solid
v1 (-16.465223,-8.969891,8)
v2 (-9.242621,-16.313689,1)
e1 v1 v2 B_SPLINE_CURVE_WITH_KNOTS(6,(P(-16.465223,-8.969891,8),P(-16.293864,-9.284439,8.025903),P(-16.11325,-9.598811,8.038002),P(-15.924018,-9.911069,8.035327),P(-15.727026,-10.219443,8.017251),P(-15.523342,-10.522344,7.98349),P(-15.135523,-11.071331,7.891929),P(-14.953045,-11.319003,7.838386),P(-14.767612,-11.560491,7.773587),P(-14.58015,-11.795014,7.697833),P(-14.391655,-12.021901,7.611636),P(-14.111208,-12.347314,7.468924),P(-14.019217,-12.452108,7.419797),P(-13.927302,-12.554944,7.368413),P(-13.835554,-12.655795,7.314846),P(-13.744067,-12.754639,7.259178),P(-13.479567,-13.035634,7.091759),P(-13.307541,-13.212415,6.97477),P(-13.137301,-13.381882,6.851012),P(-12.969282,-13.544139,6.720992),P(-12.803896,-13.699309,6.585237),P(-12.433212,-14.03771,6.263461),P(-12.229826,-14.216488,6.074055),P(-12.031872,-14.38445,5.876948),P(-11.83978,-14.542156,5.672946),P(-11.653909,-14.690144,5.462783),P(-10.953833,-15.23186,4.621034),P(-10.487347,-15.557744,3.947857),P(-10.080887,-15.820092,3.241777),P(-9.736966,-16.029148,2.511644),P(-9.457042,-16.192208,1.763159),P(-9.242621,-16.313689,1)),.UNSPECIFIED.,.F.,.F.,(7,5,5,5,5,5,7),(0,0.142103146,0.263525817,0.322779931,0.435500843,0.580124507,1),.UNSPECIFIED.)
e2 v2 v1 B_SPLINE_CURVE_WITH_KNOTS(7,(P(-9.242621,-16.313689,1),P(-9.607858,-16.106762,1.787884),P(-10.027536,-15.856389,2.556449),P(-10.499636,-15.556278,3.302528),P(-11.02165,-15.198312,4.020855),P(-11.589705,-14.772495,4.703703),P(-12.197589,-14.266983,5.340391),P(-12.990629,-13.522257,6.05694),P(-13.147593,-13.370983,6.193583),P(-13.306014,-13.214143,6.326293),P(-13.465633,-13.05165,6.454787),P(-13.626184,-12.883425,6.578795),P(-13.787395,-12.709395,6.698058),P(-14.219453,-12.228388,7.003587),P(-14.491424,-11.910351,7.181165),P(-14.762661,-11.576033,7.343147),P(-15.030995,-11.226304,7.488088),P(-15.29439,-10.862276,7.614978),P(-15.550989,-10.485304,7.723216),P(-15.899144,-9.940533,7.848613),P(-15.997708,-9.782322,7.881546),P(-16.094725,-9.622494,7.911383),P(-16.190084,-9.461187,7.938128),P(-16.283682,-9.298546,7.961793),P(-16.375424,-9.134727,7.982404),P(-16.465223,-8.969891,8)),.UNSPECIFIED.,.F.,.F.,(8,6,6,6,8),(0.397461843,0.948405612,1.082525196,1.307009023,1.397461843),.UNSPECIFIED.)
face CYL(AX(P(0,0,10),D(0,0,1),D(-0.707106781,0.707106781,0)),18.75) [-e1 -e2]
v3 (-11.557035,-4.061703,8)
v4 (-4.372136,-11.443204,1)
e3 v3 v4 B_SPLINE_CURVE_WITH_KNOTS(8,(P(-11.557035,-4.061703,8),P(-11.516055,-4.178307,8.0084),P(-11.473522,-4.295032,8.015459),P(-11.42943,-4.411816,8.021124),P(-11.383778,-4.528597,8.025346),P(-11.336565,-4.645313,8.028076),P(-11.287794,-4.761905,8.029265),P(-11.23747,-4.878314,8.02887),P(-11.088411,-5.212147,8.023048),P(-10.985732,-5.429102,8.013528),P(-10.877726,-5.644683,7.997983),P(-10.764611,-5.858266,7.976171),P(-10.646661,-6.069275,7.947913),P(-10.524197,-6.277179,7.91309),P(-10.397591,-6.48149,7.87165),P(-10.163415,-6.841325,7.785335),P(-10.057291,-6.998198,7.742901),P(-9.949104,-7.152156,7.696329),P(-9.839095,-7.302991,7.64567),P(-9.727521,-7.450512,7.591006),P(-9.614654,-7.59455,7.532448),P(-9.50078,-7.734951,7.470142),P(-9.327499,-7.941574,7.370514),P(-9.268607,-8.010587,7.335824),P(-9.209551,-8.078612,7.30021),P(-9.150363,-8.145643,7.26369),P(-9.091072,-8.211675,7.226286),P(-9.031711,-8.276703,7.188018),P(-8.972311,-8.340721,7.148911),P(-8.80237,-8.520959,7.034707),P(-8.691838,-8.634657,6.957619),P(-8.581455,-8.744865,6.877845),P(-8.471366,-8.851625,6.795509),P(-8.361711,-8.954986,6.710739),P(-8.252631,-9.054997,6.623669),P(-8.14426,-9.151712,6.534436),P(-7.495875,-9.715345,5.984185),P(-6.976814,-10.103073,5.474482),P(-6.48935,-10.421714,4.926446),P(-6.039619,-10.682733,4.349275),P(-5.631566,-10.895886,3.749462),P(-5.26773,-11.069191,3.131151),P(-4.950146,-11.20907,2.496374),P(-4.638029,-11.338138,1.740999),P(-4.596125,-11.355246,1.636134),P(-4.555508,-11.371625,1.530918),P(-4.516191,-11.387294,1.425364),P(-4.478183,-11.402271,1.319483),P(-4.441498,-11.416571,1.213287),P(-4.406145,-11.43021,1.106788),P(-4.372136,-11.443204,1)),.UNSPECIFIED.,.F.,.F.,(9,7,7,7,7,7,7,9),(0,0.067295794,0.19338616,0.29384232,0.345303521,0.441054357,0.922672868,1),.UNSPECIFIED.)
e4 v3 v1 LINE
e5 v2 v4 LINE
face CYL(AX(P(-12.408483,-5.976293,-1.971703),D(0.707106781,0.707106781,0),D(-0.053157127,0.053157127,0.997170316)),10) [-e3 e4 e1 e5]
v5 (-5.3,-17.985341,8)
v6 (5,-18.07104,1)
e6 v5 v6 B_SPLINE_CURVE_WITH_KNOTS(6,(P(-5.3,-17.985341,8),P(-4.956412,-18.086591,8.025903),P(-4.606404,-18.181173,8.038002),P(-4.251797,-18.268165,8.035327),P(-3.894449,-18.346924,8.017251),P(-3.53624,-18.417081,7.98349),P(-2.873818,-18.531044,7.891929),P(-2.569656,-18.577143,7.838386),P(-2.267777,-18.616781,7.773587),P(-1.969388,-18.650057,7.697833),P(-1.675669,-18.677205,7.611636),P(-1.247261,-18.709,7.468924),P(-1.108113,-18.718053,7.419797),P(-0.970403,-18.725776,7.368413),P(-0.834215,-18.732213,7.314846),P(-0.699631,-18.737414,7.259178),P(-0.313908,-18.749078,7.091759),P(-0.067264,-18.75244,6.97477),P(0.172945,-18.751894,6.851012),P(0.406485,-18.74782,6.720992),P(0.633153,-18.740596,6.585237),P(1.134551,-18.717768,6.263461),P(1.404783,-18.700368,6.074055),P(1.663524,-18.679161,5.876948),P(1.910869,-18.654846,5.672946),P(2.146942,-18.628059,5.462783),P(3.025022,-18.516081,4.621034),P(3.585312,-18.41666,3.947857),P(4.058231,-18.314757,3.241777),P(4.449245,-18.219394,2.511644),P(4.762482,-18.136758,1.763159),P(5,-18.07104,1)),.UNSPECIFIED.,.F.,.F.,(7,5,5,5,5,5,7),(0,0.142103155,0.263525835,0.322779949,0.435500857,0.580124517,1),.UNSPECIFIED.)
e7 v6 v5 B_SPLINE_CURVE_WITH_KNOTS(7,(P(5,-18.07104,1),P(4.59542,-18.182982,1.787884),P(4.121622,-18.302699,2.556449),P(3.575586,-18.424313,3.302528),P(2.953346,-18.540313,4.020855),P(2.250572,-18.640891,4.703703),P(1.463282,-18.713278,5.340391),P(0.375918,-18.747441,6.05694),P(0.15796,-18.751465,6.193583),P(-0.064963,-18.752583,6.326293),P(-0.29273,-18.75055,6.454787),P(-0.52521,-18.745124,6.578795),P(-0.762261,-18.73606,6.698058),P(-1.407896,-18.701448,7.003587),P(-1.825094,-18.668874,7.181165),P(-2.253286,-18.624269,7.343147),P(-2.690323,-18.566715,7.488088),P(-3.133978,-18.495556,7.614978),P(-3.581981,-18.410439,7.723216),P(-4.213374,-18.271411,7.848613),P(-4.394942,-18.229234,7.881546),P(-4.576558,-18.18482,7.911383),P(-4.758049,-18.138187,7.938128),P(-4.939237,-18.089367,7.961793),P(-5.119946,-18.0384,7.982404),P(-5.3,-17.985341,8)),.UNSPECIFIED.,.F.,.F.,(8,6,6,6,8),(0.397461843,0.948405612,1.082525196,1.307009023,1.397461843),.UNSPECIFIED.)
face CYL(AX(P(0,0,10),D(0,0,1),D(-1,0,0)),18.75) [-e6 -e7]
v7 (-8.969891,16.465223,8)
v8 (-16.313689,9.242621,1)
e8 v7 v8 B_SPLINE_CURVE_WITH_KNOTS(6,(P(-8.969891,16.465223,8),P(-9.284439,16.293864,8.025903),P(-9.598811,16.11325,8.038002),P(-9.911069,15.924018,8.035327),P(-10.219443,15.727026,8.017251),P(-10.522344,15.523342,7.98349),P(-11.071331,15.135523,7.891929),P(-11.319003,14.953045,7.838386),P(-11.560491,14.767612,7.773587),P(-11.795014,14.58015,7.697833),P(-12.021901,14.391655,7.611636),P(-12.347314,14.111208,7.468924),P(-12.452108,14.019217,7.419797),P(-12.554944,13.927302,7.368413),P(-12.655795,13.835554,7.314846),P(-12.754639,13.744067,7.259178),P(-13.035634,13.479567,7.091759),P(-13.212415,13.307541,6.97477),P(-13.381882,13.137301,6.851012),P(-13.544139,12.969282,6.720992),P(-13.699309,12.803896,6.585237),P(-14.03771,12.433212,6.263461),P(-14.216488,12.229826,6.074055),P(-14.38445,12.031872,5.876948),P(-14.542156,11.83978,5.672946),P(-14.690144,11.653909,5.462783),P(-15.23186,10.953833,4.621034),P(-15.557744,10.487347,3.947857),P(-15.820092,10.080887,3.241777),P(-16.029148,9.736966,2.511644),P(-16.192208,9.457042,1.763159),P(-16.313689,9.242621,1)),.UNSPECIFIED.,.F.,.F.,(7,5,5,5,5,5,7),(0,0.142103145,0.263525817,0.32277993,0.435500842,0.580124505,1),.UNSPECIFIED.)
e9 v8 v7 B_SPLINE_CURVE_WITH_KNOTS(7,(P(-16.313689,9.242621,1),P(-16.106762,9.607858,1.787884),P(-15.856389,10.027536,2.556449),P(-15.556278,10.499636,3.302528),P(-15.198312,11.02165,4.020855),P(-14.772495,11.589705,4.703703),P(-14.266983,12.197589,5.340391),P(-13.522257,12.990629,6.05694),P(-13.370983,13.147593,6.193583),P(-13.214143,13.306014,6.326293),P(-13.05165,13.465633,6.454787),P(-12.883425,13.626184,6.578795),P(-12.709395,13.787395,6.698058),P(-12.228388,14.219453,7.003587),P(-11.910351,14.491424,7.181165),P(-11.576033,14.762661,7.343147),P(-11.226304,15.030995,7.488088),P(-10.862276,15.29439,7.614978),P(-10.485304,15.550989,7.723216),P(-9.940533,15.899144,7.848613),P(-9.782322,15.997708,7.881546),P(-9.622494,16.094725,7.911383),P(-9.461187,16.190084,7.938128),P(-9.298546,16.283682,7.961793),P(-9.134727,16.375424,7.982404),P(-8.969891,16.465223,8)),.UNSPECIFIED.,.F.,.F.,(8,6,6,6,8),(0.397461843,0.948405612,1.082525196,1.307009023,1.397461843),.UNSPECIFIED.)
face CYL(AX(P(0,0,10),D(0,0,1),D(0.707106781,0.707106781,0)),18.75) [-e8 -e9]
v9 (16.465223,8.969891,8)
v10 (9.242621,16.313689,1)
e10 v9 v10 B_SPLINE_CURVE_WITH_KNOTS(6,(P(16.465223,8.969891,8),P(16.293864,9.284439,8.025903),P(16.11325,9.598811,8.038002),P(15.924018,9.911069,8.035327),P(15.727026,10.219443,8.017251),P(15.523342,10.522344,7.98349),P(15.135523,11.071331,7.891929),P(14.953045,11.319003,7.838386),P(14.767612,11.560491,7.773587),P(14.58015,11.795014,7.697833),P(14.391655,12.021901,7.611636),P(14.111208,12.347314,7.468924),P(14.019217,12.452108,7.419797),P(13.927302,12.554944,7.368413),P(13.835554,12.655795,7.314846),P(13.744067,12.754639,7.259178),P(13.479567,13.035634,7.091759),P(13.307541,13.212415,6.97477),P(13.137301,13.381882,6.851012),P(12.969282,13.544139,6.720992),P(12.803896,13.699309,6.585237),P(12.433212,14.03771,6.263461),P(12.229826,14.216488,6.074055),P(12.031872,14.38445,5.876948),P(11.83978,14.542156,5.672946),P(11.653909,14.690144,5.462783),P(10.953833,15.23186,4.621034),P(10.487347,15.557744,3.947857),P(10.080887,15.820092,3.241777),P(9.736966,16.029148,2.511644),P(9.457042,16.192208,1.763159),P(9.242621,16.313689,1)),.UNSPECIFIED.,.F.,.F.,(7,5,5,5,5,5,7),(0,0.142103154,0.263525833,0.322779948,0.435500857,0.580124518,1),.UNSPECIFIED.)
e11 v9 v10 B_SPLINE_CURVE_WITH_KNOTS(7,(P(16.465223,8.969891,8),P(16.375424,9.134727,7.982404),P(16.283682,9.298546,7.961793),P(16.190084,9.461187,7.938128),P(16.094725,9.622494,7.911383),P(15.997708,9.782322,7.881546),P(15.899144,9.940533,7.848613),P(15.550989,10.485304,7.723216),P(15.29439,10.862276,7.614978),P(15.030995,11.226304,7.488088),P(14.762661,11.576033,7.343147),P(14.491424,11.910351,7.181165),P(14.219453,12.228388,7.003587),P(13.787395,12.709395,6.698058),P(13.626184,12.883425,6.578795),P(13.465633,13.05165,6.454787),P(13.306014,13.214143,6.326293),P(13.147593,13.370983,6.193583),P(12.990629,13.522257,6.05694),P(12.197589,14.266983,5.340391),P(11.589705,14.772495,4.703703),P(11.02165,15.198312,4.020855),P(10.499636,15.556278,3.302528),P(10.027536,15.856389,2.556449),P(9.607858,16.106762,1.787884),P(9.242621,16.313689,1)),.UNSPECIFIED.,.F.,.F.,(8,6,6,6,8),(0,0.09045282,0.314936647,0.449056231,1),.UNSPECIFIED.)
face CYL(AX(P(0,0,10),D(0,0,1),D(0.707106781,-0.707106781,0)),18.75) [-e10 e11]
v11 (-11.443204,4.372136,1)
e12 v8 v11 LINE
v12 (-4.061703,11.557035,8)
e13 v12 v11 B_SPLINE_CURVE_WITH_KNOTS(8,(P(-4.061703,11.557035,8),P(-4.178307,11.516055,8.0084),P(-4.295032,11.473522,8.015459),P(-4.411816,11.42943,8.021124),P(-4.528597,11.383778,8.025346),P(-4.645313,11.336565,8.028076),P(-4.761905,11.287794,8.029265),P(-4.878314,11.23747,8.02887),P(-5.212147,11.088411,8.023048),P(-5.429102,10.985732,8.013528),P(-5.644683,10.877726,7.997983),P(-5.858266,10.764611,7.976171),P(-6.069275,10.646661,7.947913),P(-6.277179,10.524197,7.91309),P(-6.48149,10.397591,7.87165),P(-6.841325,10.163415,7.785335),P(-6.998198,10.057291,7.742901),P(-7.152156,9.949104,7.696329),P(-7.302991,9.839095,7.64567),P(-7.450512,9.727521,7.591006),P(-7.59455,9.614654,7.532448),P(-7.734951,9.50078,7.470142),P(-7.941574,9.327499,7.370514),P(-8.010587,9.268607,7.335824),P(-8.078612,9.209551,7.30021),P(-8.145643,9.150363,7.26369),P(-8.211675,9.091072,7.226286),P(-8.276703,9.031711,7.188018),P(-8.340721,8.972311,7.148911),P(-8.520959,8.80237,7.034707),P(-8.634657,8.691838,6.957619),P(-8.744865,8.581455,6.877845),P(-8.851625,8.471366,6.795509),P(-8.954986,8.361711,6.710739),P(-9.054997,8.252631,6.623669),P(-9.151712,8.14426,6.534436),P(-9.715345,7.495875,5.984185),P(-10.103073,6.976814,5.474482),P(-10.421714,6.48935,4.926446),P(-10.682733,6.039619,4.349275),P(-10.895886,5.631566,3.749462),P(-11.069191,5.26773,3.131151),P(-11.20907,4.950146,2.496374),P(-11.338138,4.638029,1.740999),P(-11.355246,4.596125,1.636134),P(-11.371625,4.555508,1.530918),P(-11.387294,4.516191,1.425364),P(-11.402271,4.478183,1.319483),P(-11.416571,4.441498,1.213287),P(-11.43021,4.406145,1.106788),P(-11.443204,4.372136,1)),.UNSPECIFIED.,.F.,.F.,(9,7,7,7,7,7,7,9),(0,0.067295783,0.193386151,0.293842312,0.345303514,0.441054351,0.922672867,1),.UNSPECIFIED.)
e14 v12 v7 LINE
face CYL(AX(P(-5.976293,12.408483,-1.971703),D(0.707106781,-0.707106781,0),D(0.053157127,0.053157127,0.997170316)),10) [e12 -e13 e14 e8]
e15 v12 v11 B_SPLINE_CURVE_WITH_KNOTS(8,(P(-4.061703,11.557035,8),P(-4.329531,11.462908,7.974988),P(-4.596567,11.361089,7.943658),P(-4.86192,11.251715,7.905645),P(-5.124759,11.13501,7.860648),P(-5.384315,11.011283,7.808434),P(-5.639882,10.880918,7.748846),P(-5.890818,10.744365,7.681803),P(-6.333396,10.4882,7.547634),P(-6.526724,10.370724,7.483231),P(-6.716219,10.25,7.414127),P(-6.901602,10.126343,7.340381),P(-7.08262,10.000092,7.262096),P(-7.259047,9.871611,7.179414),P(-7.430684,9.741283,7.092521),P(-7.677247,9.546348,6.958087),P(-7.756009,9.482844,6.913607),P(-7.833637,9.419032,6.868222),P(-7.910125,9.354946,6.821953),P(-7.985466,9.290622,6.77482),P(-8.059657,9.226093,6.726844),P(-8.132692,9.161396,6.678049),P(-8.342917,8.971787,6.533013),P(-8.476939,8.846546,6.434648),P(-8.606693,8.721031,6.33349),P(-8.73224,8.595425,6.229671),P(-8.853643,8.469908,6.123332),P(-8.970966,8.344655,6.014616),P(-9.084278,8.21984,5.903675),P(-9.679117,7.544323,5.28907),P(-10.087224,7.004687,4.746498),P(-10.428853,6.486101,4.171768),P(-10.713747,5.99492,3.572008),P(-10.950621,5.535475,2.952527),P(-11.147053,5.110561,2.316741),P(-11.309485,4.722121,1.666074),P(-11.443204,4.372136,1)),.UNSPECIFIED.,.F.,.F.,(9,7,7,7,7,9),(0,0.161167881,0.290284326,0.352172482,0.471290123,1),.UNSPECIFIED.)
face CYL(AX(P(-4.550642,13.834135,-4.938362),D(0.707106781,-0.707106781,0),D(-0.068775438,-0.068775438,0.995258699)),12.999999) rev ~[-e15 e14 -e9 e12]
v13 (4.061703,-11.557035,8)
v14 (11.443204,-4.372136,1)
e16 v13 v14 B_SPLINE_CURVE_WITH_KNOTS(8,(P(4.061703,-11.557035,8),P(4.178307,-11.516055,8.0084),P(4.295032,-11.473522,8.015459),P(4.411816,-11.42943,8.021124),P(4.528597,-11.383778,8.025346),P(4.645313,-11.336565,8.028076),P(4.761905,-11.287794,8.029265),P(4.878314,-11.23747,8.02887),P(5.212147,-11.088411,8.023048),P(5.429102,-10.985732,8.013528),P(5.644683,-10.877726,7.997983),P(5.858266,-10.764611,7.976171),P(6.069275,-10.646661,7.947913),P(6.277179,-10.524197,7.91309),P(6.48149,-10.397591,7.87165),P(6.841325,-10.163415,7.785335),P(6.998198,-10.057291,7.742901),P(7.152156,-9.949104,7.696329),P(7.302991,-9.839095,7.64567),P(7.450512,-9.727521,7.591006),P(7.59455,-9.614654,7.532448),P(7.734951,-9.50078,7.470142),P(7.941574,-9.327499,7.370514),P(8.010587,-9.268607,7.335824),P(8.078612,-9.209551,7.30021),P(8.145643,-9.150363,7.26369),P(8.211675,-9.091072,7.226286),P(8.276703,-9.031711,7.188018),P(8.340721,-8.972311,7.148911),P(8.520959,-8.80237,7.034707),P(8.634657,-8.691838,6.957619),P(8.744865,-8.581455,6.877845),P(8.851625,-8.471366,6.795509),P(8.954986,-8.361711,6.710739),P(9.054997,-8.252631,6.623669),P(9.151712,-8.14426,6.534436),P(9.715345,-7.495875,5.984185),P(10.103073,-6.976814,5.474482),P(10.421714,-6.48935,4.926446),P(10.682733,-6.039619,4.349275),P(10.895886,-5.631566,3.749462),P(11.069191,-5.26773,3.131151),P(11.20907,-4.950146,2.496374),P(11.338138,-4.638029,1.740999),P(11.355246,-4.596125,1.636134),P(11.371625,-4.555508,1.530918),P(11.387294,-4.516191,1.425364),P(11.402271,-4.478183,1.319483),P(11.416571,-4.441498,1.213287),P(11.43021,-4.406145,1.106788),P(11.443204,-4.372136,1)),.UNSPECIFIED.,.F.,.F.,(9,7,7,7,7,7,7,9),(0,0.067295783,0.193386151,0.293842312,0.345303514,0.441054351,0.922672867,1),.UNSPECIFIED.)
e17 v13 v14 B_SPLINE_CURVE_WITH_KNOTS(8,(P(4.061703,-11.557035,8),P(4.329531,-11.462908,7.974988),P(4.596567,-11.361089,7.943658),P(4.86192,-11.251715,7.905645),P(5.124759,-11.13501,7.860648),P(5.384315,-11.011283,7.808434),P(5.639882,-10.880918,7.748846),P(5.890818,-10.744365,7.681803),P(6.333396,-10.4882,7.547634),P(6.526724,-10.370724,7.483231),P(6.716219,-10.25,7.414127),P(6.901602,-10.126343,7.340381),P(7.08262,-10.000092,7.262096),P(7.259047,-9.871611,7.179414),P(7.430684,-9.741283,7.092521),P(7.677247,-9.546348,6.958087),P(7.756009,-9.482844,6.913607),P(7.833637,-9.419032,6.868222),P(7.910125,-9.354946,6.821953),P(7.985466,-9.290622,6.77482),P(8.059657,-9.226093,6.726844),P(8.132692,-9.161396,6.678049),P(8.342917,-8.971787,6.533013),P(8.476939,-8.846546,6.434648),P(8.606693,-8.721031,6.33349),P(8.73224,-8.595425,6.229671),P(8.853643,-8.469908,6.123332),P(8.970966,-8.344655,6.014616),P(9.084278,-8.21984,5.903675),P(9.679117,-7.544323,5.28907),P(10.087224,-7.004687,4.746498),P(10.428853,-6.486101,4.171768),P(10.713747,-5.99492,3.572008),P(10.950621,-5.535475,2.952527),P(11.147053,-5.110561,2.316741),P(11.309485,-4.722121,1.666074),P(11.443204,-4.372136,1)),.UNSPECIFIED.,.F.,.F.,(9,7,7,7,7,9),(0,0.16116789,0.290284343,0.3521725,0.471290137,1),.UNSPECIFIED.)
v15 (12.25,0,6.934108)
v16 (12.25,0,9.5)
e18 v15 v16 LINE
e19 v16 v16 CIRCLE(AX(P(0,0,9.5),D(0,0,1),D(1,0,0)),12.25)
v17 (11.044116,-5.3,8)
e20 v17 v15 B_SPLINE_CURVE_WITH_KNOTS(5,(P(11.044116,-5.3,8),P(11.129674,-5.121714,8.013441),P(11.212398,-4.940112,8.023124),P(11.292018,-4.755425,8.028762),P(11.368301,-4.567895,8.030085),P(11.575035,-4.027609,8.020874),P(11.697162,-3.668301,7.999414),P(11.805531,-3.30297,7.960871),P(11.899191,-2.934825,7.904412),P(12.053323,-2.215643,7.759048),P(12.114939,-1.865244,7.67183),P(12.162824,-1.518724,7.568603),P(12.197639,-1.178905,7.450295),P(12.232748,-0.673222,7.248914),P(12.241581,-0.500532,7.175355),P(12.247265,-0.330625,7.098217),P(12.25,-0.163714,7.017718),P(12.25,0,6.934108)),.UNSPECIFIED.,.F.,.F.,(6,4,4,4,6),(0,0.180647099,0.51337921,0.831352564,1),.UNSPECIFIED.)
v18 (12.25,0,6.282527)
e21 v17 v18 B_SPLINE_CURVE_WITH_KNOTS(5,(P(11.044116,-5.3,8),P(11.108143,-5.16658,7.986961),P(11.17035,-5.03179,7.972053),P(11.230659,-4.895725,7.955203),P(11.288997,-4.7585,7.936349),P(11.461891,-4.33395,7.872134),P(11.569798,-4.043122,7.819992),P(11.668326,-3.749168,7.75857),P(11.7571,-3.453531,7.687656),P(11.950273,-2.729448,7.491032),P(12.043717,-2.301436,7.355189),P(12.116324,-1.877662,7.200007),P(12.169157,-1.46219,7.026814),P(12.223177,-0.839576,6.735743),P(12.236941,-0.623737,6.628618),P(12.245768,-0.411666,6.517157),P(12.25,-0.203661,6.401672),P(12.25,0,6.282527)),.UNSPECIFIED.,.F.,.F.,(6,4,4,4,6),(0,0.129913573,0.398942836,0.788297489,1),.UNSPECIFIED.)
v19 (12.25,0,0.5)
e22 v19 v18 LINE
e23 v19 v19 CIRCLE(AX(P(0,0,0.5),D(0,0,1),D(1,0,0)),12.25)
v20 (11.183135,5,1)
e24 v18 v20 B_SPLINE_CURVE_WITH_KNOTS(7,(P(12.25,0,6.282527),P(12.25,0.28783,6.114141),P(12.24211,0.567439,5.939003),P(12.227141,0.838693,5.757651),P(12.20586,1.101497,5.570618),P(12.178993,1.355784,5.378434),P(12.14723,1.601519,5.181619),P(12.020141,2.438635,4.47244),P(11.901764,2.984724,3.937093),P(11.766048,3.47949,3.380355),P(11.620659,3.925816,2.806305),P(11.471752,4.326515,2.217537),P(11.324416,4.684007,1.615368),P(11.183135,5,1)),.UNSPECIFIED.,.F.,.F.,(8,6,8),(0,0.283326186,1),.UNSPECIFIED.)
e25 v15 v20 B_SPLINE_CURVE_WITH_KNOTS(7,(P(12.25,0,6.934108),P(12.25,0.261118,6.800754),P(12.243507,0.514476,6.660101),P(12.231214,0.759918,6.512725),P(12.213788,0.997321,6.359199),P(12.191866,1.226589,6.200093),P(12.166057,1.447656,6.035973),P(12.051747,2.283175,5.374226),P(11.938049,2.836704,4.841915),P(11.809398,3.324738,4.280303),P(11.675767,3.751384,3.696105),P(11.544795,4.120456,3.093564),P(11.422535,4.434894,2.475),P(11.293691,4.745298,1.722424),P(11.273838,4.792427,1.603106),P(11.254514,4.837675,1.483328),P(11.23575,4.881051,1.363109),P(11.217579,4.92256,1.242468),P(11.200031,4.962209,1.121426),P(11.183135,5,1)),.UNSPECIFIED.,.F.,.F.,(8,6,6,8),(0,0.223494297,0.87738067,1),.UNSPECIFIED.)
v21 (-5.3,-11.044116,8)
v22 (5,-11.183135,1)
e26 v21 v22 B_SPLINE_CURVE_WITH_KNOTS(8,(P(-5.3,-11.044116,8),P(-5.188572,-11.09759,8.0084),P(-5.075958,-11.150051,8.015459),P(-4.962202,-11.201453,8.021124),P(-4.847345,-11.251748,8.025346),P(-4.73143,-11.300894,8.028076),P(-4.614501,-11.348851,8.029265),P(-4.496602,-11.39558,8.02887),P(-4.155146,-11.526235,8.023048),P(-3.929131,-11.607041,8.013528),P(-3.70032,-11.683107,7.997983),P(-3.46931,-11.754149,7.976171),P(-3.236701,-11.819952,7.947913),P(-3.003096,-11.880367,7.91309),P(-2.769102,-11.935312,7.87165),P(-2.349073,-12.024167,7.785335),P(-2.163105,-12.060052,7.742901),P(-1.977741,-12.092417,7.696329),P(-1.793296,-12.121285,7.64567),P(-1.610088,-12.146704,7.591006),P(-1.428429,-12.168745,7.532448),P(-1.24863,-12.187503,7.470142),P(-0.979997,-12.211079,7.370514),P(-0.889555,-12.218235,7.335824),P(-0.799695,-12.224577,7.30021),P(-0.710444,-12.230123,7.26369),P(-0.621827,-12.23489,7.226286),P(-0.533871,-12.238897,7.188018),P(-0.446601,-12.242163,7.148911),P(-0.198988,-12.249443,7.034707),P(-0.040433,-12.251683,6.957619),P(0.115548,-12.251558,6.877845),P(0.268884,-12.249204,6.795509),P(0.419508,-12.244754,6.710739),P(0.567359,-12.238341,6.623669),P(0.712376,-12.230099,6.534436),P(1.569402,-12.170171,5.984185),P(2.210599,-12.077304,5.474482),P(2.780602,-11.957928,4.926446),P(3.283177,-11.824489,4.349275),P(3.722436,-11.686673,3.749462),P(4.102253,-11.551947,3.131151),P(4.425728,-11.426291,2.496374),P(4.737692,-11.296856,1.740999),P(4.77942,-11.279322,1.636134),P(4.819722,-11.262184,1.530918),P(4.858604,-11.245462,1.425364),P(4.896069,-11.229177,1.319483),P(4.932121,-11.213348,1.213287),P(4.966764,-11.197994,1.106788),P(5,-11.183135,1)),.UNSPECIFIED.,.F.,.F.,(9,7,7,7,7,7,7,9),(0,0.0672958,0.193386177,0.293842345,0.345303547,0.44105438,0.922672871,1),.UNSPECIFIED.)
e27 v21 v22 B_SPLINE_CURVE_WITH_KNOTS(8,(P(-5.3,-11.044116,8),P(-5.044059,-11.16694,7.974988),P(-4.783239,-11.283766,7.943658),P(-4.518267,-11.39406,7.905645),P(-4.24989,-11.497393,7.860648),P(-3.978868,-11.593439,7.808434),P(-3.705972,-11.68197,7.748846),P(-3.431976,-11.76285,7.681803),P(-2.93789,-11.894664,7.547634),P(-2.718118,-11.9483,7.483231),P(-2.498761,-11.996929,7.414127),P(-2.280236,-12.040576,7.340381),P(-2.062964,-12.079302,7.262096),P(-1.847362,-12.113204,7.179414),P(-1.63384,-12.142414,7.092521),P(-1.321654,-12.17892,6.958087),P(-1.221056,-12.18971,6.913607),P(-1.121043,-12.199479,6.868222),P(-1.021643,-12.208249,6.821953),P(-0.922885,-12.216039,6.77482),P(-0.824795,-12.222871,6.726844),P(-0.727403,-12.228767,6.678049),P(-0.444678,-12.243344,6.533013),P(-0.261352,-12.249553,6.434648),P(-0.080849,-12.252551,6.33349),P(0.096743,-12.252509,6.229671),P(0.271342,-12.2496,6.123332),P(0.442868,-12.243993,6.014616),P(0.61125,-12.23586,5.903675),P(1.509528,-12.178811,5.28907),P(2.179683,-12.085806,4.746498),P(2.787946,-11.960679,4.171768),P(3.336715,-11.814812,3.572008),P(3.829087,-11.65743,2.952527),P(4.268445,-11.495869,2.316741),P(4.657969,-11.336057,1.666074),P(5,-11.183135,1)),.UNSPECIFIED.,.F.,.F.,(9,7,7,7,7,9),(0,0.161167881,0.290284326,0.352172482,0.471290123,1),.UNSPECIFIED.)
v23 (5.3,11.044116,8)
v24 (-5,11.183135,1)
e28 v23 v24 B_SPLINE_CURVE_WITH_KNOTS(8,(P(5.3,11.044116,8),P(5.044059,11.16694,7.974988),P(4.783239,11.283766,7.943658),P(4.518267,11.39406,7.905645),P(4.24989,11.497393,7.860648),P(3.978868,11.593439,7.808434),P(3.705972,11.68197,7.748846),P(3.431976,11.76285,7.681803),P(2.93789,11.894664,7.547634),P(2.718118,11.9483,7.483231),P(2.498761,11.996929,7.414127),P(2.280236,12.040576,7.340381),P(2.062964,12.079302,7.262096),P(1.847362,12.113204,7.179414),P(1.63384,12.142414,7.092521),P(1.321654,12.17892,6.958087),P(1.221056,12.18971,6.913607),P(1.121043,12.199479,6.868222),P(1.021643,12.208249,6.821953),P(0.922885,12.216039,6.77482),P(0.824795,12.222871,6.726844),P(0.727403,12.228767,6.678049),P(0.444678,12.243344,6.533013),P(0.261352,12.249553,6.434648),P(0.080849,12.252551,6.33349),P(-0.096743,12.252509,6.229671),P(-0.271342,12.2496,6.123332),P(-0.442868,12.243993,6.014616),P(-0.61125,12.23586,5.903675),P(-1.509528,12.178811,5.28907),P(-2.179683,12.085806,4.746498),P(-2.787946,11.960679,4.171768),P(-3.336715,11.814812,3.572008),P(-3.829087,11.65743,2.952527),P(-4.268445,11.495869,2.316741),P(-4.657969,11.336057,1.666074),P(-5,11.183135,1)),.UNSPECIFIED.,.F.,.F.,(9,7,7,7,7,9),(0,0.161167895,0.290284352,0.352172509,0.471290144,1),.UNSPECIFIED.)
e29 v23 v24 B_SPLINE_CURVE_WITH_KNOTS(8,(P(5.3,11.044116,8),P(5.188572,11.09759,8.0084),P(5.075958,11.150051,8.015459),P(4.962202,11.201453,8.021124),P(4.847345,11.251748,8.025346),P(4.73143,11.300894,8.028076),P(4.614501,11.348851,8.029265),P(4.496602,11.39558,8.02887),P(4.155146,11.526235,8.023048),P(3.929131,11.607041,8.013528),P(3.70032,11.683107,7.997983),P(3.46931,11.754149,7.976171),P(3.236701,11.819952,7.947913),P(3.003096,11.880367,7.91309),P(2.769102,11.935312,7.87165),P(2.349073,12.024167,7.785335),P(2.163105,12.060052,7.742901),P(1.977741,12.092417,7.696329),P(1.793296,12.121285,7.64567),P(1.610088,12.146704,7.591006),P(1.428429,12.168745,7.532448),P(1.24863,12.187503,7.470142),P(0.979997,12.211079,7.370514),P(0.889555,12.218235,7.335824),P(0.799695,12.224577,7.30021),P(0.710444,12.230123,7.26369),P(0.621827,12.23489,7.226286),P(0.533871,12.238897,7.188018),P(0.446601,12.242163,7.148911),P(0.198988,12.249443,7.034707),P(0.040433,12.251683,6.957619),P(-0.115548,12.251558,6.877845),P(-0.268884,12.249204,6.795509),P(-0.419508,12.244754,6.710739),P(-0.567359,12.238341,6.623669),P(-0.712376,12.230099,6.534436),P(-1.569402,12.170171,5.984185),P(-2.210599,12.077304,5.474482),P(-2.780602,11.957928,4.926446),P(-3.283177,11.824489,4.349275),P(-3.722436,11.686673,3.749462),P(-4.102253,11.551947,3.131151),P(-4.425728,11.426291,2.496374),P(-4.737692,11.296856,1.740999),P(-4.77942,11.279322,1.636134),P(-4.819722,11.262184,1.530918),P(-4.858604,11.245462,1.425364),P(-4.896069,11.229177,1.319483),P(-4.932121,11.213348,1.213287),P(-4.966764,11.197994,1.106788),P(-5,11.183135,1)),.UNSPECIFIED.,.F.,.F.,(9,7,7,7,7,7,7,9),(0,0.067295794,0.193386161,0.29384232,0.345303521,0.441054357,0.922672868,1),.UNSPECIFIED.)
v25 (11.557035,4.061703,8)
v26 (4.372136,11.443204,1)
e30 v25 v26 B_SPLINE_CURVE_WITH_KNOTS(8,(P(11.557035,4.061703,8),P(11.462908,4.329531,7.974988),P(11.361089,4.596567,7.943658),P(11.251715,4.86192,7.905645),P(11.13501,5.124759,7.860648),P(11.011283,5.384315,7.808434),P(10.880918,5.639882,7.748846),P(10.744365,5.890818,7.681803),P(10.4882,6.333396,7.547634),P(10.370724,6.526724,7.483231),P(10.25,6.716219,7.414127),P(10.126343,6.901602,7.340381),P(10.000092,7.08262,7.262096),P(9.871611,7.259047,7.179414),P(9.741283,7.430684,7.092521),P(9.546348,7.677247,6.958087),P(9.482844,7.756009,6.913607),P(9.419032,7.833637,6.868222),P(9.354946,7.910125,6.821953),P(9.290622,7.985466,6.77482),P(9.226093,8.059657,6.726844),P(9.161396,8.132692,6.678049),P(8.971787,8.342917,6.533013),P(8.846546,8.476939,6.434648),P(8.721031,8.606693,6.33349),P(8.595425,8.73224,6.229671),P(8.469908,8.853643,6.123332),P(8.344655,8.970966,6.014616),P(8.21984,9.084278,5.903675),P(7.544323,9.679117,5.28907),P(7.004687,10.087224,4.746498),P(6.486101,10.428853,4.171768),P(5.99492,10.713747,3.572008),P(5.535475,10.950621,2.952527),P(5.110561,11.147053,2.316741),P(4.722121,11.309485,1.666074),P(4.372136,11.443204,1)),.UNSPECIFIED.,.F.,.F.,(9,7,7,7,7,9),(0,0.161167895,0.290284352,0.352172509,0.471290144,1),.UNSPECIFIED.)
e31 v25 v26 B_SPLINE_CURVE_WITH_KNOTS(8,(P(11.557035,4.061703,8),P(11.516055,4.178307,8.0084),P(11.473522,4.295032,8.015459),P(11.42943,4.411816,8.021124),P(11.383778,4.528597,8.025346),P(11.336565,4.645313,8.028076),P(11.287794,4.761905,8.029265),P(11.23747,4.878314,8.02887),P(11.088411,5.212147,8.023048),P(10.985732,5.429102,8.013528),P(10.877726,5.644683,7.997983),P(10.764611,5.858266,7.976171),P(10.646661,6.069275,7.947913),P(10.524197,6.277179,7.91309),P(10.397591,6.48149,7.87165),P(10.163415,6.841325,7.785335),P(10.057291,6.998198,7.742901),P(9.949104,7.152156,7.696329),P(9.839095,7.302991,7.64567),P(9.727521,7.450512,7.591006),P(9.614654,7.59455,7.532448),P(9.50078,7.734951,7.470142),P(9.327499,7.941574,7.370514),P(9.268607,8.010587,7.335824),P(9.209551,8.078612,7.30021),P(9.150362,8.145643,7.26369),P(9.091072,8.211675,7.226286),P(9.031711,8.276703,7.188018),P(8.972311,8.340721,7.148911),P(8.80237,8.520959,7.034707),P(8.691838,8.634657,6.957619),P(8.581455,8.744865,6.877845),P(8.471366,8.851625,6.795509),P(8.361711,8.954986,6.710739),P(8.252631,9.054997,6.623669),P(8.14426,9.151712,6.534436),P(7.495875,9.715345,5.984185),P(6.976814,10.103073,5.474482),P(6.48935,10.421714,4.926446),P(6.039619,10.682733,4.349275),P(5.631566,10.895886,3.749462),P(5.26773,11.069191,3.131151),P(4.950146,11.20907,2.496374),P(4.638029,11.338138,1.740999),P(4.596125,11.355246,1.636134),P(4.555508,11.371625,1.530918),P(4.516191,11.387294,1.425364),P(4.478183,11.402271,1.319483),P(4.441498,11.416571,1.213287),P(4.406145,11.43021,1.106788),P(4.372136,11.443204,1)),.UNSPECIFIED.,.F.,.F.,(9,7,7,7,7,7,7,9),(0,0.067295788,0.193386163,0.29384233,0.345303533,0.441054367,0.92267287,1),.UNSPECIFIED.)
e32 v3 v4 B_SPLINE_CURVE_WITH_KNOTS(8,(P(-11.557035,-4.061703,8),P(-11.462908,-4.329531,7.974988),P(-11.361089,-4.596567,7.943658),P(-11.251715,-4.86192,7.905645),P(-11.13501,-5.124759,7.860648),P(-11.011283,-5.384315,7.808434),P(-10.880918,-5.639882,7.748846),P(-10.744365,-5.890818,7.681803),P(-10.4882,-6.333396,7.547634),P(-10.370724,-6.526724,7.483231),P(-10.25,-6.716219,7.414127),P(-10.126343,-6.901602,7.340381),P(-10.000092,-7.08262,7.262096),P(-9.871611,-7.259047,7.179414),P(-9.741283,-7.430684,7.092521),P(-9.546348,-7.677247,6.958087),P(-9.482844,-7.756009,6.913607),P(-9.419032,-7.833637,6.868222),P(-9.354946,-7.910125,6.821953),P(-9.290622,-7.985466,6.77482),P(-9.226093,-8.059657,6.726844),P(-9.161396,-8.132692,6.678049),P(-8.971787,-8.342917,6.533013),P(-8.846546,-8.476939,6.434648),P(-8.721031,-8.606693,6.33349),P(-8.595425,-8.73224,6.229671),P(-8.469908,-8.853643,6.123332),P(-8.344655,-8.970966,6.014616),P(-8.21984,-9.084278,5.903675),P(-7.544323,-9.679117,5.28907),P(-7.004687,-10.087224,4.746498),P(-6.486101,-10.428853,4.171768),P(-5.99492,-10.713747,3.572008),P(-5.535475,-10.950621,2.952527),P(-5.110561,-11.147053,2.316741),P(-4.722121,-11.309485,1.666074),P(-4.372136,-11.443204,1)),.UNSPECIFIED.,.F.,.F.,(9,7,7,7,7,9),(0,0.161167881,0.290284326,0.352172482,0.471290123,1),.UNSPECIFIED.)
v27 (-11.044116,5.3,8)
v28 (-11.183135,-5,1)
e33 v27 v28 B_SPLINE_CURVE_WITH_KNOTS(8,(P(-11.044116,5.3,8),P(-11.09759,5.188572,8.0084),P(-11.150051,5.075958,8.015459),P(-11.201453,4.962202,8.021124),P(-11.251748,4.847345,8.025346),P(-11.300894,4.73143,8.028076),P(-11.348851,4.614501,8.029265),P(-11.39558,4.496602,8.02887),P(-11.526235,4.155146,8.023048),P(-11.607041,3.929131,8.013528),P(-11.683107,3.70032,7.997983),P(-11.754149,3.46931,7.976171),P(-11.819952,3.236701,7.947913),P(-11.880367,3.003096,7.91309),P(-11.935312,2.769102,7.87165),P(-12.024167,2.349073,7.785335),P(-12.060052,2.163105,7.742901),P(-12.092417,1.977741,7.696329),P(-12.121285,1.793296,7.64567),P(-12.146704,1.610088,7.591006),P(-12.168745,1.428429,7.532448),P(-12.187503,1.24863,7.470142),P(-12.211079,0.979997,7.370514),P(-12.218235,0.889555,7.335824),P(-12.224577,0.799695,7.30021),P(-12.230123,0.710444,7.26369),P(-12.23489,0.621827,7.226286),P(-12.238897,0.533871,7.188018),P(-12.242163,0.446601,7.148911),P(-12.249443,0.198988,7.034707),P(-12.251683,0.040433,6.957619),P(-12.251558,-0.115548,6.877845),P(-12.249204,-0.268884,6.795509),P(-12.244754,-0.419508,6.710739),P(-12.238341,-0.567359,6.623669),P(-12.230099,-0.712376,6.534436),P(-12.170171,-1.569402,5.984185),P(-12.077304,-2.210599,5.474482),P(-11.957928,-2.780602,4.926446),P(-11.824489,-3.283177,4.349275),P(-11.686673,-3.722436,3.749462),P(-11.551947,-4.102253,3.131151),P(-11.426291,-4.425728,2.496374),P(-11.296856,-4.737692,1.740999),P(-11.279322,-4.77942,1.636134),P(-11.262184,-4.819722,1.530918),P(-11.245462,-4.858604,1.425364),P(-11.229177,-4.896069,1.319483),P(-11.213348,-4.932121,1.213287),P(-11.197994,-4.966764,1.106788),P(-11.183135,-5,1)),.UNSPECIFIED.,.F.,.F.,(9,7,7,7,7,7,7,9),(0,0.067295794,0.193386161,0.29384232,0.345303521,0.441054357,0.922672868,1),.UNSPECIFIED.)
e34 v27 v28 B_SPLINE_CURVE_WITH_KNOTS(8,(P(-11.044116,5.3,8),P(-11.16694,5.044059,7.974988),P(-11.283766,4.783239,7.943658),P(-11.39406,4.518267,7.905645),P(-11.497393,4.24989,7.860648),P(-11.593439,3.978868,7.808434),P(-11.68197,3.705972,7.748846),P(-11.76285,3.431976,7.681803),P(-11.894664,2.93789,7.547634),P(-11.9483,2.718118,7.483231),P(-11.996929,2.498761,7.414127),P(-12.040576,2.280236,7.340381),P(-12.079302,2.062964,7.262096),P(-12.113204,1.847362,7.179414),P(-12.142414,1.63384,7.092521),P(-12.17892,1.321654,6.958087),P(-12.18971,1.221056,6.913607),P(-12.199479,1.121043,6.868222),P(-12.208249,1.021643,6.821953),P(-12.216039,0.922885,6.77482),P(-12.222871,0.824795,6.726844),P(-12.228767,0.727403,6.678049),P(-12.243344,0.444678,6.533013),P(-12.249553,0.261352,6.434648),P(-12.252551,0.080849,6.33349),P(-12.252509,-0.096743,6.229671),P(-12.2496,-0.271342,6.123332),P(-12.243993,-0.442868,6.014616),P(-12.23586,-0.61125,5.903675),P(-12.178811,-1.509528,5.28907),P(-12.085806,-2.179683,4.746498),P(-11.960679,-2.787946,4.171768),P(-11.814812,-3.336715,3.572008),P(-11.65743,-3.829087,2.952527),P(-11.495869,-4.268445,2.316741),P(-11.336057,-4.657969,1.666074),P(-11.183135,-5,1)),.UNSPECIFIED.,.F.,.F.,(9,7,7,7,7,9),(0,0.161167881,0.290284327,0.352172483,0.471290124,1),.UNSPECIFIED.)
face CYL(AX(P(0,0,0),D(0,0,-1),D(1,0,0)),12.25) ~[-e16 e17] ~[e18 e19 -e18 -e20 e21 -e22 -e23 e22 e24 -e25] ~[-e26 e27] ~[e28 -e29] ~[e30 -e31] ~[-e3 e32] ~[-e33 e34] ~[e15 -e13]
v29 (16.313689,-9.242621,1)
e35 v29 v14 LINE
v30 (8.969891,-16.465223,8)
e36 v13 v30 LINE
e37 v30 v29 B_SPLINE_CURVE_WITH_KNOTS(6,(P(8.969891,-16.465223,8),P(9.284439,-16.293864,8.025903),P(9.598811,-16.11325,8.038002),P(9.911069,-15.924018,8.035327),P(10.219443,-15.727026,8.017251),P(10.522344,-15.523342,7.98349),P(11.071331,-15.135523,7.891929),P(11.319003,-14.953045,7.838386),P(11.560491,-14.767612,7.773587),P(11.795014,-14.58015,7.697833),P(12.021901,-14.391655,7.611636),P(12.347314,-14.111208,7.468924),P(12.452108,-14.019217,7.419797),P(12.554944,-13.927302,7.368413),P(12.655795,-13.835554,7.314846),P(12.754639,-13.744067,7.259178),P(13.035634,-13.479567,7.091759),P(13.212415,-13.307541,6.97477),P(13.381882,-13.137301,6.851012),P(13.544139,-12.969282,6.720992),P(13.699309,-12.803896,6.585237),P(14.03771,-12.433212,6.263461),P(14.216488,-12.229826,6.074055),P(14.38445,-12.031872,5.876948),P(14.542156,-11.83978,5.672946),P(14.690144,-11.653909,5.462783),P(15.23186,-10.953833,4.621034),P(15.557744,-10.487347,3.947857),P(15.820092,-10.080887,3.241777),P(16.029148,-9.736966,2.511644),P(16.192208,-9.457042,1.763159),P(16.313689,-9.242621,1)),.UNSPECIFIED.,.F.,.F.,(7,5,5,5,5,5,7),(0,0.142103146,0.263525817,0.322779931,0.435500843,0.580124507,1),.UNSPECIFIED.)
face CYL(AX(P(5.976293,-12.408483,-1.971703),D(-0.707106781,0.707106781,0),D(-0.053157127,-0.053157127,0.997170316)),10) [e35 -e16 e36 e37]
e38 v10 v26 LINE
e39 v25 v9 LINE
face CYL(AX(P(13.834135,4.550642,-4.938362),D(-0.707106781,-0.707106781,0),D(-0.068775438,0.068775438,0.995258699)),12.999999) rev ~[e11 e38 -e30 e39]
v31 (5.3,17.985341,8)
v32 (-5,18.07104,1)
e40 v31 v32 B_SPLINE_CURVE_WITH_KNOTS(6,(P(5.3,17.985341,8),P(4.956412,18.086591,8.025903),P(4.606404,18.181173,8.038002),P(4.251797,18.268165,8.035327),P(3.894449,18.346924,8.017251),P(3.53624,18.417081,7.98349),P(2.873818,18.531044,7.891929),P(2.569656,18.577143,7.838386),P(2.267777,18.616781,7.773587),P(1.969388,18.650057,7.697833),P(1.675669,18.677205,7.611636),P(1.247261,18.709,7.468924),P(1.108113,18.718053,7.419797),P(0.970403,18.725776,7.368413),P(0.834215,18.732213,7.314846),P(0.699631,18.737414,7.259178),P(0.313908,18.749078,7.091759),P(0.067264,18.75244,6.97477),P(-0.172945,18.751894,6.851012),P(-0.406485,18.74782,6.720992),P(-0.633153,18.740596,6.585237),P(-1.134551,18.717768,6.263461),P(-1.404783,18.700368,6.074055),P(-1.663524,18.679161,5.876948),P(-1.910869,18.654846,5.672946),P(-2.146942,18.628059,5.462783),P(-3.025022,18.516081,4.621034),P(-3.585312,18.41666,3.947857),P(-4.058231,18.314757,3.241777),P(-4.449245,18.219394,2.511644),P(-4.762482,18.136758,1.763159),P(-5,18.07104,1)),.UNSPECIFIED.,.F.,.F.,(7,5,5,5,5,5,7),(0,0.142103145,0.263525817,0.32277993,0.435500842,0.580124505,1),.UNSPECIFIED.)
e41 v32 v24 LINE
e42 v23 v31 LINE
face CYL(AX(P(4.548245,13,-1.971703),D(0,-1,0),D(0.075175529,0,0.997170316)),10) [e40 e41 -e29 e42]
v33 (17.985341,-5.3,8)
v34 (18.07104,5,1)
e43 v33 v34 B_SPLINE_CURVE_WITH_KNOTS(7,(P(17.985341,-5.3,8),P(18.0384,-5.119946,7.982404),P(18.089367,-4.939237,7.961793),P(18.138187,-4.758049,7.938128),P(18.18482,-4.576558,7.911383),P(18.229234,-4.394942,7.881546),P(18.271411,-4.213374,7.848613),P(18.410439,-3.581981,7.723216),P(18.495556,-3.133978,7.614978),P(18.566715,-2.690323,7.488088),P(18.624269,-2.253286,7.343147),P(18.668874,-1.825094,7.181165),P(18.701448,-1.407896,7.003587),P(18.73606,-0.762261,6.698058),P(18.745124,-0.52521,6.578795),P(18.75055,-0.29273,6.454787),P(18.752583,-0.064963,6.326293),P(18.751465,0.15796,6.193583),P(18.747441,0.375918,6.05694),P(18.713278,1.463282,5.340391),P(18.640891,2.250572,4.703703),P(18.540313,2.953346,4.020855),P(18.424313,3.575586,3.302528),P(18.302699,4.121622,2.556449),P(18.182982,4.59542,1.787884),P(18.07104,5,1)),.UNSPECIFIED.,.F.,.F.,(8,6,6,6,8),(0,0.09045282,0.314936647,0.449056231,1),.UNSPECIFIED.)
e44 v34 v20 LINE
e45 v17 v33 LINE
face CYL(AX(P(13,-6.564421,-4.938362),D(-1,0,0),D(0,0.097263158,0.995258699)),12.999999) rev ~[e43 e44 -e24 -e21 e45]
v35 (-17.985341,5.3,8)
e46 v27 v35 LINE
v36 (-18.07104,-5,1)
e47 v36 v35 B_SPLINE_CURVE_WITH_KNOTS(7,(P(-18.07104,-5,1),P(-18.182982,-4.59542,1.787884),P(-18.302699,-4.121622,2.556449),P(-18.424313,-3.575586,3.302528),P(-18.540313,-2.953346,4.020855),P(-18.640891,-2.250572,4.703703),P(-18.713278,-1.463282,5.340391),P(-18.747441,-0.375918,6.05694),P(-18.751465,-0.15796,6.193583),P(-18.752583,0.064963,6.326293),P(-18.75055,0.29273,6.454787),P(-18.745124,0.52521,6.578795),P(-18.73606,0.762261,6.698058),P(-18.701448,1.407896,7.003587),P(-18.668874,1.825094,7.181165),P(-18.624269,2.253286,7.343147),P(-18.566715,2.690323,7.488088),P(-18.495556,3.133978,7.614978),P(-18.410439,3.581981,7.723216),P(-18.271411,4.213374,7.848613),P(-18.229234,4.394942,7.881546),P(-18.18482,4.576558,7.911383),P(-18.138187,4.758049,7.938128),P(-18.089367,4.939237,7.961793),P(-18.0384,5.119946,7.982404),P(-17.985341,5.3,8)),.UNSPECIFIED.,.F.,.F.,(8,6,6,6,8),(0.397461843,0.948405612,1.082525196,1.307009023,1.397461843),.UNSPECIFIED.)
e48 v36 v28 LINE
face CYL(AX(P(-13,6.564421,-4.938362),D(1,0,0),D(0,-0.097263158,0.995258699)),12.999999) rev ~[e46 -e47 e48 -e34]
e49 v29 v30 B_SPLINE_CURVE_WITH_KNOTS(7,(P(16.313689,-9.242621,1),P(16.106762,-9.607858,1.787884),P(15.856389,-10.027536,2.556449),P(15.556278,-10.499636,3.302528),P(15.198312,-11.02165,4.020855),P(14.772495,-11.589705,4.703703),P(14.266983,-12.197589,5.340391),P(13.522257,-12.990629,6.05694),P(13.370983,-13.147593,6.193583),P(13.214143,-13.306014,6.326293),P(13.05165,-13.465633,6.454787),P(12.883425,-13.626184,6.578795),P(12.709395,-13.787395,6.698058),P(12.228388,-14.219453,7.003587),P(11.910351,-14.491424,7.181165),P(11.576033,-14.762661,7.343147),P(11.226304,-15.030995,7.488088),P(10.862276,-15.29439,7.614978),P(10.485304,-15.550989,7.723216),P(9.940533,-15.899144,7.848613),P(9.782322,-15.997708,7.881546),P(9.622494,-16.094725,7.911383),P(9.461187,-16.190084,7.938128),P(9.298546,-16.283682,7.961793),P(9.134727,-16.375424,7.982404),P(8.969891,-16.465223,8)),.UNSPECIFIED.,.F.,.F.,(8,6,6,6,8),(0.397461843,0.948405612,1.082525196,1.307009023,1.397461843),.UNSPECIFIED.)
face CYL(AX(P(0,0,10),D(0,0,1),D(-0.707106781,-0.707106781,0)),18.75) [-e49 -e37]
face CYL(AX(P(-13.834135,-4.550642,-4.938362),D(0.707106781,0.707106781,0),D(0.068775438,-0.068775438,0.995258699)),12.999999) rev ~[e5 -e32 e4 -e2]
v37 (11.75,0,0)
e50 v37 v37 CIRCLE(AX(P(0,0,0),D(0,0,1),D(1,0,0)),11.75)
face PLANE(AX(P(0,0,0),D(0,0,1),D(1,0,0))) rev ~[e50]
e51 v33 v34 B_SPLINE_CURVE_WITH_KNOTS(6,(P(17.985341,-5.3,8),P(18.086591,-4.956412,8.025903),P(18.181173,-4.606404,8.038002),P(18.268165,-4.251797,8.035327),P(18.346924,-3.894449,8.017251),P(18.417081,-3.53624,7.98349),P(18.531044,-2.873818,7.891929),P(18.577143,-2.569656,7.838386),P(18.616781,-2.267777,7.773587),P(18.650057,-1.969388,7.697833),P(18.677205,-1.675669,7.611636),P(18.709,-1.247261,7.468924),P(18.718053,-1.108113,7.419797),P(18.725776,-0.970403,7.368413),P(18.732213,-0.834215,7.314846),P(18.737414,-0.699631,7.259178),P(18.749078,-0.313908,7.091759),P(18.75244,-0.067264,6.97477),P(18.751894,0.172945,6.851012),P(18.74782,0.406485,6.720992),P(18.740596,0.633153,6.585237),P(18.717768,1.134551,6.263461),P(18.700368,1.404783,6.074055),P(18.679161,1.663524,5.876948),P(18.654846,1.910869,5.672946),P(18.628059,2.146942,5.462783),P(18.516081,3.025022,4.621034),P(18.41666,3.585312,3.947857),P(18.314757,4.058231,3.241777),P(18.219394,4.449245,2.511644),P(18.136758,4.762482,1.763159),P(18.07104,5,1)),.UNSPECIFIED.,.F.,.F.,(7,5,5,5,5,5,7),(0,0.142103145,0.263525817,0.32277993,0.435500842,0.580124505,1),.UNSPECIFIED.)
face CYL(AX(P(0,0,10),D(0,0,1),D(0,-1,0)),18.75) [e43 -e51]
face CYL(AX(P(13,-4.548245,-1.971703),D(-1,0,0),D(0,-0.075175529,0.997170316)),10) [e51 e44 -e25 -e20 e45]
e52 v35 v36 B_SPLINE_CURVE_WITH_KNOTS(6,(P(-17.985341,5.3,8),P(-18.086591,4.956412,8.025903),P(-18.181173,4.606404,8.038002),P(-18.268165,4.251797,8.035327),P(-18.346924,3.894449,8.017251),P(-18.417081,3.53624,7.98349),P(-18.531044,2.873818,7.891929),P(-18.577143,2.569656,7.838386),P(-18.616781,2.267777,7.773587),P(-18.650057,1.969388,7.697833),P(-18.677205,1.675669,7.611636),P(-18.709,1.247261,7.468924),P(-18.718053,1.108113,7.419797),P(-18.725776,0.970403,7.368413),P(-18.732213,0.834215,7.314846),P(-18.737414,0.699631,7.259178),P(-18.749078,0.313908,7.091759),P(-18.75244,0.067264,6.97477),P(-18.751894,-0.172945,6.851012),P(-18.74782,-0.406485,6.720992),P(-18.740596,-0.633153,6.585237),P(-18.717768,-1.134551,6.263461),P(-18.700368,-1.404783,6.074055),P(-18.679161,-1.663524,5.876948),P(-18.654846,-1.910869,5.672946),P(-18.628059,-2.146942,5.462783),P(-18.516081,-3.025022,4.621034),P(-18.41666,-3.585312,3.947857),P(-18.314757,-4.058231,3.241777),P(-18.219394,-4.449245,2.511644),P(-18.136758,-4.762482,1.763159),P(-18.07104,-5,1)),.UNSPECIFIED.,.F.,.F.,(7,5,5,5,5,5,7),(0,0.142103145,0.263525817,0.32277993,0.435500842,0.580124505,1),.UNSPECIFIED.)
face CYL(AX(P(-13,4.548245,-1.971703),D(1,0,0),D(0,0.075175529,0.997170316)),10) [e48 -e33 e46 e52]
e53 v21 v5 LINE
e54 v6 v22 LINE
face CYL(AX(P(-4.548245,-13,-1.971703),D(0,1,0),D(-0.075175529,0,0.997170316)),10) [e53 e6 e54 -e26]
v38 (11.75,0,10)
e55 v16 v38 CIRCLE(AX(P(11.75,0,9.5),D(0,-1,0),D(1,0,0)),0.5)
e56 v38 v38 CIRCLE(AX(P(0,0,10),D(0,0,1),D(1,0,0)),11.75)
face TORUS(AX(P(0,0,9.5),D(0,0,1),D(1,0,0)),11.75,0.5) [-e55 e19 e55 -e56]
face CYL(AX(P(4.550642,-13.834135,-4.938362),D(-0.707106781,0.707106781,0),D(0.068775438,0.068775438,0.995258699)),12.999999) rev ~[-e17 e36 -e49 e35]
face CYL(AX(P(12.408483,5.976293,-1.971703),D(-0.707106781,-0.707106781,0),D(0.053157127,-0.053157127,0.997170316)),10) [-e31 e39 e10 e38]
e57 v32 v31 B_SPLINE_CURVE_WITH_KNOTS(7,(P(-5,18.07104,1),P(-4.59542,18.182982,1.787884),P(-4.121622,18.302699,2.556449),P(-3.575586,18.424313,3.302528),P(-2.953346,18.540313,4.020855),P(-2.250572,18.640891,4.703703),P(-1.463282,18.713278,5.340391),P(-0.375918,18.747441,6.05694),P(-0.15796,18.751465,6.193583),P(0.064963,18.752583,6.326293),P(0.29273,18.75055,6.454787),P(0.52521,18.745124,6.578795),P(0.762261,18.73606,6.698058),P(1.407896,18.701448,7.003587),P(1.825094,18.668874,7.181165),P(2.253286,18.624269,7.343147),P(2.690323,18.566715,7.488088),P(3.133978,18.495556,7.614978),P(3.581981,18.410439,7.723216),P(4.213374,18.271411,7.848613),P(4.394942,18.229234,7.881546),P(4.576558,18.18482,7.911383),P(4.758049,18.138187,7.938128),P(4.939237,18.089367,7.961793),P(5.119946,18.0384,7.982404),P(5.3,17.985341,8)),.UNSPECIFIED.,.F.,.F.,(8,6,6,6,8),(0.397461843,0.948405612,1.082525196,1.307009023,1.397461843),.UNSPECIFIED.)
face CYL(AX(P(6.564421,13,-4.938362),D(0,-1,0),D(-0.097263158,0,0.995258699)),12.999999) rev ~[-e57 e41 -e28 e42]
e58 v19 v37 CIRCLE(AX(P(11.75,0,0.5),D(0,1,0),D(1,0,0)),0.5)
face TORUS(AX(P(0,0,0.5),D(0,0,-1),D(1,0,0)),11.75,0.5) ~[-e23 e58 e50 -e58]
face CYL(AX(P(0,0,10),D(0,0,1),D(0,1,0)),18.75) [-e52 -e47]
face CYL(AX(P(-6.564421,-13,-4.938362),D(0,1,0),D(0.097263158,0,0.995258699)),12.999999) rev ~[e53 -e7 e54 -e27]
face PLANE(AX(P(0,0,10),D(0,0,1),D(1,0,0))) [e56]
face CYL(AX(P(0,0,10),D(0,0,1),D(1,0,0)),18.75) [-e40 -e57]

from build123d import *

# Parameters (mm, degrees)
SKETCH072_R           = 12.25
PAD027_DEPTH          = 10
FILLET040_R           = 0.5
PAD030_DEPTH          = 7.5
SKETCH063_R           = 32.89
SKETCH063_R_2         = 18.75
POCKET020_DEPTH       = 94.210561
POLARPATTERN006_COUNT = 8


with BuildPart() as part:
    # Sketch072 → Pad027 (new body)
    with BuildSketch(Plane.XY):
        Circle(SKETCH072_R)
    extrude(amount=PAD027_DEPTH)

    # Fillet040
    fillet040_edges = [part.edges().sort_by_distance(p)[0] for p in [
        (-12.25, 0, 10),
        (-12.25, 0, 0),
    ]]
    fillet(fillet040_edges, radius=FILLET040_R)

    # Sketch085 (on DatumPlane) → Pad030 (join, symmetric)
    with BuildSketch(Plane(origin=(0, 13, -2), x_dir=(1, 0, 0), z_dir=(0, -1, 0))):
        with BuildLine():
            ThreePointArc((5.3, 10), (-1.072659, 8.299055), (-5, 3))
            ThreePointArc((5.3, 10), (-0.742753, 7.813623), (-5, 3))
        make_face()
    pad030 = extrude(amount=PAD030_DEPTH, both=True)

    # Sketch063 (on Face7 of Pad030) → Pocket020 (cut, through all)
    with BuildSketch(Plane.XY.offset(10)):
        Circle(SKETCH063_R)
        Circle(SKETCH063_R_2, mode=Mode.SUBTRACT)
    pocket020 = extrude(amount=-POCKET020_DEPTH, mode=Mode.SUBTRACT)

    # PolarPattern006: Pad030, Pocket020 ×8 about axis
    polarpattern006_axis = Axis((0, 0, 0), (0, 0, 1))
    for i in range(1, POLARPATTERN006_COUNT):
        add(pad030.rotate(polarpattern006_axis, i * 360 / POLARPATTERN006_COUNT))
        add(pocket020.rotate(polarpattern006_axis, i * 360 / POLARPATTERN006_COUNT), mode=Mode.SUBTRACT)


solid = part.part
